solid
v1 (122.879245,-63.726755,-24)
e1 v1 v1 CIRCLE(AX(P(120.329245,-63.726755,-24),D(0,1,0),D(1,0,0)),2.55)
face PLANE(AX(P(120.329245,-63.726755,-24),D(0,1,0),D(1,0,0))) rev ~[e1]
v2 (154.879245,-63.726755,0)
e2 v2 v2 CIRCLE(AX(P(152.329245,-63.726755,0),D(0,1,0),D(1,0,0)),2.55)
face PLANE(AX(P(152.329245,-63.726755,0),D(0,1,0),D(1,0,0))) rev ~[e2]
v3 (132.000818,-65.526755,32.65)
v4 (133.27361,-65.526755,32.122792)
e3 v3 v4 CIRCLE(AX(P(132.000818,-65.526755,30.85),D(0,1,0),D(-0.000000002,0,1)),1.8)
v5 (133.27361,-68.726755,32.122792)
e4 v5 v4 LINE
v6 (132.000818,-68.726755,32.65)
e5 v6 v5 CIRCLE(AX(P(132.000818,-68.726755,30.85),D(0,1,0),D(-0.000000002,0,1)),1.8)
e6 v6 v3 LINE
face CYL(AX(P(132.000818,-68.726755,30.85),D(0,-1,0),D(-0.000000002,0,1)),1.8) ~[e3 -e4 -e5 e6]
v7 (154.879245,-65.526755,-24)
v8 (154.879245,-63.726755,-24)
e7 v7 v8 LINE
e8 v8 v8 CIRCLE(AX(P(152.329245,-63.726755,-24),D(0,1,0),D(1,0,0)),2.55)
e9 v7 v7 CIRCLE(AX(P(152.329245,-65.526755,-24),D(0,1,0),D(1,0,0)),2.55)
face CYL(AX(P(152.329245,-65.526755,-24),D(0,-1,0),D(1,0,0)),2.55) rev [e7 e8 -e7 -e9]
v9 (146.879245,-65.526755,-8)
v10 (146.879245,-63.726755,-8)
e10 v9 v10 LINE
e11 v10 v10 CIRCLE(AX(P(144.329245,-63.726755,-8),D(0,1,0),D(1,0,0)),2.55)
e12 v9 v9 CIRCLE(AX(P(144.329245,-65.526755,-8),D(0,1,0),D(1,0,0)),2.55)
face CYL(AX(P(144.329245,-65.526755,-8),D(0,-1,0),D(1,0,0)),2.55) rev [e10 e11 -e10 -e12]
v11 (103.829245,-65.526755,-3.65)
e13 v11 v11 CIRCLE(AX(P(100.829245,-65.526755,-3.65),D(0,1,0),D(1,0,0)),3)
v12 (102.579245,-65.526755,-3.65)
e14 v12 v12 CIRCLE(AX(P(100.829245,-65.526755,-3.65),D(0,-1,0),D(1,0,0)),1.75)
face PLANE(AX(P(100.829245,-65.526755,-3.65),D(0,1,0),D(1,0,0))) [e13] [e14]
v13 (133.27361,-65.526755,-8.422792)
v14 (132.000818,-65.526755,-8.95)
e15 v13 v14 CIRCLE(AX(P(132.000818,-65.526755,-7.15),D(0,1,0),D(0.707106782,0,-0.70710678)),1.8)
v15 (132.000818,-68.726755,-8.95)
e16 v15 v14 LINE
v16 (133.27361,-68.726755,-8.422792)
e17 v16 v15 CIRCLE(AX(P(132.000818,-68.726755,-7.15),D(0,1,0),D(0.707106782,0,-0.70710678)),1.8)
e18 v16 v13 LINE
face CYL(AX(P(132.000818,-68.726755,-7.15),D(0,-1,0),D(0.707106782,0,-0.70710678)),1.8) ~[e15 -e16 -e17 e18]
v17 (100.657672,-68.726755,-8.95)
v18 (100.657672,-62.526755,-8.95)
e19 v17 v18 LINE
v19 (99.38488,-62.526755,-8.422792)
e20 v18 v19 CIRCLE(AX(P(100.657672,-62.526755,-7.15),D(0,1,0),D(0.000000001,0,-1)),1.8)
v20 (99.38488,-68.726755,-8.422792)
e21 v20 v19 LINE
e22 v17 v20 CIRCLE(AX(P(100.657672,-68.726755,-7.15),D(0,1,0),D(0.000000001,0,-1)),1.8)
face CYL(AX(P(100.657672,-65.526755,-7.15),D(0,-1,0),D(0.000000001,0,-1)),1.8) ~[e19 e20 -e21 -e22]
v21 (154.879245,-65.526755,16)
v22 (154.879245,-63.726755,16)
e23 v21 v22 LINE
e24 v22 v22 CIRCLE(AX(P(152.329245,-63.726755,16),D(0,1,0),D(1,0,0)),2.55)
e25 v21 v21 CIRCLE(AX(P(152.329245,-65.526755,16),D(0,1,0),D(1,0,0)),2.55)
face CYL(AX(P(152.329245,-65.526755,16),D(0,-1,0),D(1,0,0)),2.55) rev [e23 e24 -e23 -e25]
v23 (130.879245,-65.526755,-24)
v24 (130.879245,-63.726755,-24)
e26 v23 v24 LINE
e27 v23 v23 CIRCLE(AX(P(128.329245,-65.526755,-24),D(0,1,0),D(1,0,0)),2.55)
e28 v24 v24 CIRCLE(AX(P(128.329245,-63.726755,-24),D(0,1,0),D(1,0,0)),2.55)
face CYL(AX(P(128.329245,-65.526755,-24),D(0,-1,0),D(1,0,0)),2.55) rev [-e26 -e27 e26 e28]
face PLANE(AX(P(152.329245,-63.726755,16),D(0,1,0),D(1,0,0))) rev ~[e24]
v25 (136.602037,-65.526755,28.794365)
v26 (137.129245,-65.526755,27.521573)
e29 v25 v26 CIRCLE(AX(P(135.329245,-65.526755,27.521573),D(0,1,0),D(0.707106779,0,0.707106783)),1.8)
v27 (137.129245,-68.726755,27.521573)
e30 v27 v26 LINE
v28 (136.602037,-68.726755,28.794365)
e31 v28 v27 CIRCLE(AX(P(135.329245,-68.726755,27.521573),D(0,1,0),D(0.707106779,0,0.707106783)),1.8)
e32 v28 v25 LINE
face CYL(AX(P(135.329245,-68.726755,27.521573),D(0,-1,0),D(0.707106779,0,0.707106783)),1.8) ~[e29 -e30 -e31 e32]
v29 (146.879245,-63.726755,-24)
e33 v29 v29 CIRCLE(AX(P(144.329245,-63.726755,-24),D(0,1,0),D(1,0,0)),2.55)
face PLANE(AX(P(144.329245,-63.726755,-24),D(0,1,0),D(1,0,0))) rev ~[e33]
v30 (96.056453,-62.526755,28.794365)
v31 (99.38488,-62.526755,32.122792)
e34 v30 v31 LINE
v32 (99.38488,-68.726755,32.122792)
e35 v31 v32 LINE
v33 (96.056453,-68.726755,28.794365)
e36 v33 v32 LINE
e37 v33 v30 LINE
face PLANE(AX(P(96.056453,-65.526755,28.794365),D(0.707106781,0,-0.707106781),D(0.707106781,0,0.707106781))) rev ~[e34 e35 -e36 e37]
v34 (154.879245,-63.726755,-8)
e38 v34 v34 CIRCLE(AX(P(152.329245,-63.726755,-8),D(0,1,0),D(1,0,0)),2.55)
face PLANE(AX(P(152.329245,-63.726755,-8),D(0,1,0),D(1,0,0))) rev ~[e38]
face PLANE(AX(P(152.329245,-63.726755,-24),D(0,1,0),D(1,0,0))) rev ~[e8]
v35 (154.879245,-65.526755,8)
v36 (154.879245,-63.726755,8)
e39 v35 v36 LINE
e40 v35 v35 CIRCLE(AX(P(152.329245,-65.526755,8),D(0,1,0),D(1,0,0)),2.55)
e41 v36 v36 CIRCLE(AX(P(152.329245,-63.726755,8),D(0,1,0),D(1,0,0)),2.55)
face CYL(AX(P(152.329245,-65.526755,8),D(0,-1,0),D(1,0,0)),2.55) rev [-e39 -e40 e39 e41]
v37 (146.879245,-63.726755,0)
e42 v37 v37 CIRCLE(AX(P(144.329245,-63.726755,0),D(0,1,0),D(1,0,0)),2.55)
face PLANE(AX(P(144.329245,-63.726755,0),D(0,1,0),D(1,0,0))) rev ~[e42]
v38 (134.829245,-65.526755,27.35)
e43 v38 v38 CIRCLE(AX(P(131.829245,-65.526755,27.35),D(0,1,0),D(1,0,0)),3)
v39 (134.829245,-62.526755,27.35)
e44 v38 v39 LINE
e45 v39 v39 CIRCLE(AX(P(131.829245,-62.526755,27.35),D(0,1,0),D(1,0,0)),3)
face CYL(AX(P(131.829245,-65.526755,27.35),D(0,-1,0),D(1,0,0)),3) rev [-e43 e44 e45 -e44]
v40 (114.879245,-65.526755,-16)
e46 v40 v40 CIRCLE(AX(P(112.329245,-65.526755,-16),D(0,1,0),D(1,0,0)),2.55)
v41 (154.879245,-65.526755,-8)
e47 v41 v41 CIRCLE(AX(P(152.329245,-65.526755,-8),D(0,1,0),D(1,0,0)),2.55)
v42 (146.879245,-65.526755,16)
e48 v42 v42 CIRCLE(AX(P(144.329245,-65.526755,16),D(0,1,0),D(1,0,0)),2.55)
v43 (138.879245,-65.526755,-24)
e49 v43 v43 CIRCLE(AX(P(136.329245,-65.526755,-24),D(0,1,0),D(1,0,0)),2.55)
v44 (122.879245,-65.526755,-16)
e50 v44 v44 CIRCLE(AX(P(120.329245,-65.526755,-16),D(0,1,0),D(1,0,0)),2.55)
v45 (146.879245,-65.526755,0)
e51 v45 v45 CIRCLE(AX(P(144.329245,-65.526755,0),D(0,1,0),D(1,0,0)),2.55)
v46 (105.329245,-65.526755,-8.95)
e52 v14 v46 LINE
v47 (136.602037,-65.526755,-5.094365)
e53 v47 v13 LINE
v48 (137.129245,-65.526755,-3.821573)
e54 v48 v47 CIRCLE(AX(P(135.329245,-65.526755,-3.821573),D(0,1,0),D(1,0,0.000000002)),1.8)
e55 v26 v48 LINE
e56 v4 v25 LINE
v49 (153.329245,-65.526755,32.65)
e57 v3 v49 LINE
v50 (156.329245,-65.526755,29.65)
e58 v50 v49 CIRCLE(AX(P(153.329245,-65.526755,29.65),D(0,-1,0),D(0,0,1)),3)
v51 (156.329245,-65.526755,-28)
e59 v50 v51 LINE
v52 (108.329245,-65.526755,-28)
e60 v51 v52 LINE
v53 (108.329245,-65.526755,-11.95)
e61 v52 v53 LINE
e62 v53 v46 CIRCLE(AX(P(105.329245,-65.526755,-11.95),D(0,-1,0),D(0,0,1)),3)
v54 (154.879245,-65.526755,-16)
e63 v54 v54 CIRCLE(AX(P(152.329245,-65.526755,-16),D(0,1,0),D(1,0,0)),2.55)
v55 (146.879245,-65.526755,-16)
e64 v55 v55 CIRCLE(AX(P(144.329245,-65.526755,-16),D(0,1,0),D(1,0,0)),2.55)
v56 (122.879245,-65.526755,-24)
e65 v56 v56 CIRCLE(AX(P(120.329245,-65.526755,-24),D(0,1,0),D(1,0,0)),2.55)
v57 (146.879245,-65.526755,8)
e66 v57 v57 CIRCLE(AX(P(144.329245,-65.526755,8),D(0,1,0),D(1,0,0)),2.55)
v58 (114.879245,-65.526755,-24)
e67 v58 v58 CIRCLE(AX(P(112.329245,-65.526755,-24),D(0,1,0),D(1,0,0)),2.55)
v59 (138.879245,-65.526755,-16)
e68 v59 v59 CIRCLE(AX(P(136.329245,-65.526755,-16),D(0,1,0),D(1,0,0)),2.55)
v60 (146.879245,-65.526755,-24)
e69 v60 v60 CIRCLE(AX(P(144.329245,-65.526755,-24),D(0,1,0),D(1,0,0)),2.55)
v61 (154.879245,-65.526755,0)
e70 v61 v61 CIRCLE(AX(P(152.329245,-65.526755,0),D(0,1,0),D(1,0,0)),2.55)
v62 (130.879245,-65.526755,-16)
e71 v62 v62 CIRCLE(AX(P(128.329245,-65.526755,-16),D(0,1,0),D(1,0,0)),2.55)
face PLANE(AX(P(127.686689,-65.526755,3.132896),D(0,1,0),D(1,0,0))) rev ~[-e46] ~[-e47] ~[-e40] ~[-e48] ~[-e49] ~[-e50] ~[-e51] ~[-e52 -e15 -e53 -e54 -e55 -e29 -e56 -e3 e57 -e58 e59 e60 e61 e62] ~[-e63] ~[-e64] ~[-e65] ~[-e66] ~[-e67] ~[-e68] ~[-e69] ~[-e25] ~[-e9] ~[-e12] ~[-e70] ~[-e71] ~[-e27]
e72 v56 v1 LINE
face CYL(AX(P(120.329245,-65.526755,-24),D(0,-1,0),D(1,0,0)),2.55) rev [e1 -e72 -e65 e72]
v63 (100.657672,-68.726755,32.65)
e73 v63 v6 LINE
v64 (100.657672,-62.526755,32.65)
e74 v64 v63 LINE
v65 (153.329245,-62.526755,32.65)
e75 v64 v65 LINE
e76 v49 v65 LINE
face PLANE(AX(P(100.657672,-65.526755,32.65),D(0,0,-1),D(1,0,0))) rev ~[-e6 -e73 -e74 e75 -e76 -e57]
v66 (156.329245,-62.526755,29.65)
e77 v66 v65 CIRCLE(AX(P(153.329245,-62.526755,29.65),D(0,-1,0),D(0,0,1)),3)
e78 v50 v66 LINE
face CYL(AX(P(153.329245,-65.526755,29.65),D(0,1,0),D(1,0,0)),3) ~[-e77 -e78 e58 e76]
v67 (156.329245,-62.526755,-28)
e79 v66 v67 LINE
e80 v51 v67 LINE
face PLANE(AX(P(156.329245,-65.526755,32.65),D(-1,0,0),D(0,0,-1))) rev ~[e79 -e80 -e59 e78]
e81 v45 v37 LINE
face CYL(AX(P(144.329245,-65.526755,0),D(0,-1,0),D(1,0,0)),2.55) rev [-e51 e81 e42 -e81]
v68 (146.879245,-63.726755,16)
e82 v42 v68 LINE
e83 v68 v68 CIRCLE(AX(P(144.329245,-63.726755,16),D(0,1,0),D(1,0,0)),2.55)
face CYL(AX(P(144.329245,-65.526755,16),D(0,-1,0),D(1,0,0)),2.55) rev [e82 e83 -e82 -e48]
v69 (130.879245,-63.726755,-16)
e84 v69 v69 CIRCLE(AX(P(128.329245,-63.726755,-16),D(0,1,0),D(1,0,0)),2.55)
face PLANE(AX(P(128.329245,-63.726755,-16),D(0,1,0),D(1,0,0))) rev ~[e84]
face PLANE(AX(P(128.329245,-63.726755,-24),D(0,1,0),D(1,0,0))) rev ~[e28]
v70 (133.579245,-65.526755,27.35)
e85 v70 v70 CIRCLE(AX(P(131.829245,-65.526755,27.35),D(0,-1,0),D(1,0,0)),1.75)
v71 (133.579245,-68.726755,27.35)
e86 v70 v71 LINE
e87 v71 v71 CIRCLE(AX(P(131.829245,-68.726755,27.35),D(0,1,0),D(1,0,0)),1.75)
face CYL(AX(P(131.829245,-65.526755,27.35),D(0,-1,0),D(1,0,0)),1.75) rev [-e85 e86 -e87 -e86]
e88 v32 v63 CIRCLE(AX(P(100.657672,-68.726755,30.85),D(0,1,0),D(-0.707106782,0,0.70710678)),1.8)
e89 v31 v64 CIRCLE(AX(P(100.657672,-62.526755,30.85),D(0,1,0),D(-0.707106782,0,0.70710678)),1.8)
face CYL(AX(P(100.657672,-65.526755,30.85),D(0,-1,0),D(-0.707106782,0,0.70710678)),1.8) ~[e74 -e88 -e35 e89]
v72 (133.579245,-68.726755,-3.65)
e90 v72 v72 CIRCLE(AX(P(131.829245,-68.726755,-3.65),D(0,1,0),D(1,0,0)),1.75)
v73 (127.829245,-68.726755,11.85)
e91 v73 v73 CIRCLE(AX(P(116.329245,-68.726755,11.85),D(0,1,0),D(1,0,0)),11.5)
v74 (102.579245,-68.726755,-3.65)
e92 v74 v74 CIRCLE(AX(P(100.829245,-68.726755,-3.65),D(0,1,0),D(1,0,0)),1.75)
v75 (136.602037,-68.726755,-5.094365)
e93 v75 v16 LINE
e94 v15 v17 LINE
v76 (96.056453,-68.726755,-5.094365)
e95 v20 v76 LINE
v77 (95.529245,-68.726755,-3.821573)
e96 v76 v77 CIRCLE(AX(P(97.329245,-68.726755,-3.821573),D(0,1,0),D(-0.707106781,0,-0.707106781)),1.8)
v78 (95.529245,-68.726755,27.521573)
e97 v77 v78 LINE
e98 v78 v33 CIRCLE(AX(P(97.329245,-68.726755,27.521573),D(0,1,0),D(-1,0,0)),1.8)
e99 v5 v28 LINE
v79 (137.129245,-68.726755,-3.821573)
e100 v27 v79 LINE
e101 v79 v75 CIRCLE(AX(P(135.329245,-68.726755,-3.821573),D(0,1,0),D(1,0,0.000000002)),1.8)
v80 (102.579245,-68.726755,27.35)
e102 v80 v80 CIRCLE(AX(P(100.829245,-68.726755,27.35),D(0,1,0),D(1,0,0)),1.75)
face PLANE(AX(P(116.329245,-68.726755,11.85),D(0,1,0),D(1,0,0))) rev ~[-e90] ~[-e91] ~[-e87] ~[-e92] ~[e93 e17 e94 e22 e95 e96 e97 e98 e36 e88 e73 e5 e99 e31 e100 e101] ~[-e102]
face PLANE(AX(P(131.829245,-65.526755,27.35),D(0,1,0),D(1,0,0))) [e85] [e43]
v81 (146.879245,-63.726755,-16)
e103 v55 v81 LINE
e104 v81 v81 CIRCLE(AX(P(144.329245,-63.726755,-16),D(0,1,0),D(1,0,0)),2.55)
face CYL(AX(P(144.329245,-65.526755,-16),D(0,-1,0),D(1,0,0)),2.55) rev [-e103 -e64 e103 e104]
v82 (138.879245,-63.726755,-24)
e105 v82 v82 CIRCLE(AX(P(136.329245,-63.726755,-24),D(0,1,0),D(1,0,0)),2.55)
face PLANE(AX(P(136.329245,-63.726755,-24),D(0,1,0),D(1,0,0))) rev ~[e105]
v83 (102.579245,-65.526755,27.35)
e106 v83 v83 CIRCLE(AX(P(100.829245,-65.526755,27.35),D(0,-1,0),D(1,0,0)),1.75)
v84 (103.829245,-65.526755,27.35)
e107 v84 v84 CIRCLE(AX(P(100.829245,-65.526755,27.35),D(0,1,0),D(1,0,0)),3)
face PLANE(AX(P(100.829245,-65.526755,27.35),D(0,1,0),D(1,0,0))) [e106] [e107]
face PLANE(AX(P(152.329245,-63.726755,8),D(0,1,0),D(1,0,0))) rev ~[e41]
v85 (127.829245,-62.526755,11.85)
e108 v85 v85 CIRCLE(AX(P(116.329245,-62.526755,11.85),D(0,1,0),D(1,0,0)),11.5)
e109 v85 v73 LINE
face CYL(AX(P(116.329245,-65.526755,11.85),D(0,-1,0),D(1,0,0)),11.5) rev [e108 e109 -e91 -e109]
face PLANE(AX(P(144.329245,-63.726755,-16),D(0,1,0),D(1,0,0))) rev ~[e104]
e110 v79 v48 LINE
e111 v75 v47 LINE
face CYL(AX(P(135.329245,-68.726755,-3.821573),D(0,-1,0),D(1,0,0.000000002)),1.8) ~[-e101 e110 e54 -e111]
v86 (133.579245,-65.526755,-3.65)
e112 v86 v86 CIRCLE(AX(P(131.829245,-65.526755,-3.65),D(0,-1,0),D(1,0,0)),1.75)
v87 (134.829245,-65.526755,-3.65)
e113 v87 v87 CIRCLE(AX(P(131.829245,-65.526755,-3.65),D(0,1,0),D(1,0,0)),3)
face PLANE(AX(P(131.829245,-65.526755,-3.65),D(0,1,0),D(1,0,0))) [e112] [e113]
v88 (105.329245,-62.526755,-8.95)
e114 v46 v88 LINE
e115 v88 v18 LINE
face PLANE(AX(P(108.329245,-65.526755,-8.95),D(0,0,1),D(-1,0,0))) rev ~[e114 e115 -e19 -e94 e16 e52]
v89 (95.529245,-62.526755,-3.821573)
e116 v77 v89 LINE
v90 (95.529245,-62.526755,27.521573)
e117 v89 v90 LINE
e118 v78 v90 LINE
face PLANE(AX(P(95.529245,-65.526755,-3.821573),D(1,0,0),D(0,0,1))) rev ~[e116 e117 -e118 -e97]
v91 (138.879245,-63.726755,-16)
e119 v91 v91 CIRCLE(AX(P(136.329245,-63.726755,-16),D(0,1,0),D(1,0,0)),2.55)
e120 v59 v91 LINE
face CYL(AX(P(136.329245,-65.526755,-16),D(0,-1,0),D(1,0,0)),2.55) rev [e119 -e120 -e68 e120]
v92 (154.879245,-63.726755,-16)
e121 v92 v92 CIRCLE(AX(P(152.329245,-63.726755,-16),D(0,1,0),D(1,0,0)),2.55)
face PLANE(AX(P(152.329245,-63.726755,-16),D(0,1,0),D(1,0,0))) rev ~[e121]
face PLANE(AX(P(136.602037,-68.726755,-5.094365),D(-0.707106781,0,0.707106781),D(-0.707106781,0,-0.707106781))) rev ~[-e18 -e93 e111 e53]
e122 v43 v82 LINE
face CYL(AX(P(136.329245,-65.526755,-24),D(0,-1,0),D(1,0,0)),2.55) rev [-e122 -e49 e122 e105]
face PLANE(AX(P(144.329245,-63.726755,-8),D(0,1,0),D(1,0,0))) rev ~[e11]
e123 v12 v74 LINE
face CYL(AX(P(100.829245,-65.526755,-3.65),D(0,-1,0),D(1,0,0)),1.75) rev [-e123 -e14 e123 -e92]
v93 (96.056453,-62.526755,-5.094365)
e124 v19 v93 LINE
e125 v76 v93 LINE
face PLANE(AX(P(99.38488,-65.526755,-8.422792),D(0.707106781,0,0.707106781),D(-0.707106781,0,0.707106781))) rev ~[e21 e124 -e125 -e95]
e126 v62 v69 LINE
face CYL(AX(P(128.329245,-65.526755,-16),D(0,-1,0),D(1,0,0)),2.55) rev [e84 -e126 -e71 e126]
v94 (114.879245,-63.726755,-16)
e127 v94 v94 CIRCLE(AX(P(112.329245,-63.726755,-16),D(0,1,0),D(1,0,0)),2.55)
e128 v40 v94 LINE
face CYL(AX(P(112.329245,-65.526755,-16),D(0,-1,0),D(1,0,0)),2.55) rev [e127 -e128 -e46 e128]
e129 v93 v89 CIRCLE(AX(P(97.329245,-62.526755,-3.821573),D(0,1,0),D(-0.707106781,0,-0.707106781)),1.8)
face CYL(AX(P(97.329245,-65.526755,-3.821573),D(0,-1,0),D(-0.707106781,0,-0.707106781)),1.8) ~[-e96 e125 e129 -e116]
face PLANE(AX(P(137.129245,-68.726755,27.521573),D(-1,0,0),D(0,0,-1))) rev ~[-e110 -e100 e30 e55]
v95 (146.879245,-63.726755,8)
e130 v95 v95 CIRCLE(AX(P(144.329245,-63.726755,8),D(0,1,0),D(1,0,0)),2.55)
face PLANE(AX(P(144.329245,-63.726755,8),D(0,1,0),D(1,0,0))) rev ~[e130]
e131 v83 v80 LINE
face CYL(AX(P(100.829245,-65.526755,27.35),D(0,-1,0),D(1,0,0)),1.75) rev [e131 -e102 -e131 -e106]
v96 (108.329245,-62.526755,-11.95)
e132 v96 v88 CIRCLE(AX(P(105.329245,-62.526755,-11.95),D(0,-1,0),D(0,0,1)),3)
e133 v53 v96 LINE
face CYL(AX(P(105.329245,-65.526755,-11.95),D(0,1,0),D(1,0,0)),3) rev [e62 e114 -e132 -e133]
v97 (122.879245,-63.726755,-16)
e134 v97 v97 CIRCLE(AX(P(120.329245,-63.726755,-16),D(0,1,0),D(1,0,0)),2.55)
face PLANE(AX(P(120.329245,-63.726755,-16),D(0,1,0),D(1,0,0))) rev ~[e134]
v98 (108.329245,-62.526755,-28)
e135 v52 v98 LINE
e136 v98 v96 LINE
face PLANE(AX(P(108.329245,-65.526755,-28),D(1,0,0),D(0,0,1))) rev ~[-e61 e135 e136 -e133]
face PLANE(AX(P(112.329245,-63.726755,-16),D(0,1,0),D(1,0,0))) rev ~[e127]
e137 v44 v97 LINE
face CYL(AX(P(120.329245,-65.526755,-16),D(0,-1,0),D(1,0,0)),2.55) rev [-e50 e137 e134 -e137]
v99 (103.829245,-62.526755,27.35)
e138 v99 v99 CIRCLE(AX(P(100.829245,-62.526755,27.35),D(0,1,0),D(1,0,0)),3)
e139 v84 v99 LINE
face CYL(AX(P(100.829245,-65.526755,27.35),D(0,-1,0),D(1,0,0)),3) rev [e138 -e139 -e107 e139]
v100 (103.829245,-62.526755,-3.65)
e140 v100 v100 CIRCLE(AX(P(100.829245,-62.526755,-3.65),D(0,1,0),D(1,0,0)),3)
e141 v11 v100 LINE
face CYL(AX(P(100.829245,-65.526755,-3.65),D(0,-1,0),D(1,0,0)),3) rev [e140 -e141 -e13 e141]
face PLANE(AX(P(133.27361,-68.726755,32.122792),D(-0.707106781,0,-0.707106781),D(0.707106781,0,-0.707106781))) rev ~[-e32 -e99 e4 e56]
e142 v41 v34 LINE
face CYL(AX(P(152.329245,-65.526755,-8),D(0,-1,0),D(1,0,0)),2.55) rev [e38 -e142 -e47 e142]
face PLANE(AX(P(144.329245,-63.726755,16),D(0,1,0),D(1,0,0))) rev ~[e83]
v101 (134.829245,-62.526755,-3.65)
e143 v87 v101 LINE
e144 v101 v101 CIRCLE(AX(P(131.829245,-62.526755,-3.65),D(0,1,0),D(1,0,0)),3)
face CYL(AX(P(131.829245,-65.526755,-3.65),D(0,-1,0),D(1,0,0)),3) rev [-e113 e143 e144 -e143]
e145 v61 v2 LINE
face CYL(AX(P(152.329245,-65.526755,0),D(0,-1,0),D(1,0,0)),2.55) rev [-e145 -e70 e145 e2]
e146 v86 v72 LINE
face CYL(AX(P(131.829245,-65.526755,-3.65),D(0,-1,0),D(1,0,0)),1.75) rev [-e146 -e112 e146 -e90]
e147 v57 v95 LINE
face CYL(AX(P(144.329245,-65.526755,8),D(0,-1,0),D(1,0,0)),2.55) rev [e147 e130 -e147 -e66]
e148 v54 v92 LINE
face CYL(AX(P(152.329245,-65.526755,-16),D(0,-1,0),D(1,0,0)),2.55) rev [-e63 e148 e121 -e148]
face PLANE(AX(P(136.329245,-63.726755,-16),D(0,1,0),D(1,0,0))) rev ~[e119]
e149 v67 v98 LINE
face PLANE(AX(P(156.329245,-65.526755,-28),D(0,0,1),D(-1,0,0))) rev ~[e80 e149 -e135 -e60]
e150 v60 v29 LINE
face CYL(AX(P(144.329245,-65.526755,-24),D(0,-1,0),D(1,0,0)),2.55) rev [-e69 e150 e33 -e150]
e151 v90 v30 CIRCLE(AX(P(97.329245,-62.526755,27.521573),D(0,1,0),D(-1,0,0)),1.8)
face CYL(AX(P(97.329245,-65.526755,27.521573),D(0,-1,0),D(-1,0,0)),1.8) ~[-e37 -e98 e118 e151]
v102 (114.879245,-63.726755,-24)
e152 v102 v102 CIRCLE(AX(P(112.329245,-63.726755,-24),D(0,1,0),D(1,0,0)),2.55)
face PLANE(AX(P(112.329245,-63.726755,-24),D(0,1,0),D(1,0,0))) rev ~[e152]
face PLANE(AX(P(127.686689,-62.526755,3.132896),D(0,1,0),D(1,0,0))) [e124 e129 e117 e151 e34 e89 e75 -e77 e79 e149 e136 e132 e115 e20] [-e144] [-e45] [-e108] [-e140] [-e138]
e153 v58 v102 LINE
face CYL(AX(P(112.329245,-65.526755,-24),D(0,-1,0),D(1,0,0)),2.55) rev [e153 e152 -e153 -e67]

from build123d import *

# Parameters (mm, degrees)
SKETCH1_R           = 11.5
SKETCH1_R_2         = 1.75
BOSS_EXTRUDE1_DEPTH = 3.2
BOSS_EXTRUDE2_START = 3.2
SKETCH1_5_R         = 2.55
SKETCH1_5_R_2       = 11.5
SKETCH1_5_R_3       = 1.75
BOSS_EXTRUDE2_DEPTH = 3
BOSS_EXTRUDE3_START = 5
SKETCH1_6_R         = 2.55
BOSS_EXTRUDE3_DEPTH = 1.2
CUT_EXTRUDE2_START  = 3.2
SKETCH1_4_R         = 3
CUT_EXTRUDE2_DEPTH  = 3
FILLET1_R           = 3


with BuildPart() as part:
    # Sketch1 → Boss-Extrude1 (new body)
    with BuildSketch(Plane(origin=(0, -68.726755499, 0), x_dir=(1, 0, 0), z_dir=(0, 1, 0))):
        with BuildLine():
            Line((100.657671875, -32.65), (132.000817625, -32.65))
            ThreePointArc((132.000817625, -32.65), (132.689647804, -32.512983159), (133.273609832, -32.122792206))
            Line((133.273609832, -32.122792206), (136.602036956, -28.794365081))
            ThreePointArc((136.602036956, -28.794365081), (136.992227909, -28.210403054), (137.12924475, -27.521572875))
            Line((137.12924475, -27.521572875), (137.12924475, 3.821572875))
            ThreePointArc((137.12924475, 3.821572875), (136.992227909, 4.510403054), (136.602036956, 5.094365081))
            Line((136.602036956, 5.094365081), (133.273609832, 8.422792206))
            ThreePointArc((133.273609832, 8.422792206), (132.689647804, 8.812983159), (132.000817625, 8.95))
            Line((132.000817625, 8.95), (100.657671875, 8.95))
            ThreePointArc((100.657671875, 8.95), (99.968841697, 8.812983159), (99.384879669, 8.422792206))
            Line((99.384879669, 8.422792206), (96.056452544, 5.094365081))
            ThreePointArc((96.056452544, 5.094365081), (95.666261592, 4.510403054), (95.52924475, 3.821572875))
            Line((95.52924475, 3.821572875), (95.52924475, -27.521572875))
            ThreePointArc((95.52924475, -27.521572875), (95.666261592, -28.210403054), (96.056452544, -28.794365081))
            Line((96.056452544, -28.794365081), (99.384879669, -32.122792206))
            ThreePointArc((99.384879669, -32.122792206), (99.968841697, -32.512983159), (100.657671875, -32.65))
        make_face()
        with Locations((116.32924475, -11.85)):
            Circle(SKETCH1_R, mode=Mode.SUBTRACT)
        with Locations((100.82924475, -27.35)):
            Circle(SKETCH1_R_2, mode=Mode.SUBTRACT)
        with Locations((100.82924475, 3.65)):
            Circle(SKETCH1_R_2, mode=Mode.SUBTRACT)
        with Locations((131.82924475, 3.65)):
            Circle(SKETCH1_R_2, mode=Mode.SUBTRACT)
        with Locations((131.82924475, -27.35)):
            Circle(SKETCH1_R_2, mode=Mode.SUBTRACT)
    extrude(amount=BOSS_EXTRUDE1_DEPTH)

    # Sketch1<5> → Boss-Extrude2 (add)
    with BuildSketch(Plane(origin=(0, -68.726755499, 0), x_dir=(1, 0, 0), z_dir=(0, 1, 0)).offset(BOSS_EXTRUDE2_START)):
        with BuildLine():
            Line((108.32924475, 8.95), (100.657671875, 8.95))
            ThreePointArc((100.657671875, 8.95), (99.968841697, 8.812983159), (99.384879669, 8.422792206))
            Line((99.384879669, 8.422792206), (96.056452544, 5.094365081))
            ThreePointArc((96.056452544, 5.094365081), (95.666261592, 4.510403054), (95.52924475, 3.821572875))
            Line((95.52924475, 3.821572875), (95.52924475, -27.521572875))
            ThreePointArc((95.52924475, -27.521572875), (95.666261592, -28.210403054), (96.056452544, -28.794365081))
            Line((96.056452544, -28.794365081), (99.384879669, -32.122792206))
            ThreePointArc((99.384879669, -32.122792206), (99.968841697, -32.512983159), (100.657671875, -32.65))
            Line((100.657671875, -32.65), (156.32924475, -32.65))
            Line((156.32924475, -32.65), (156.32924475, 28))
            Line((156.32924475, 28), (108.32924475, 28))
            Line((108.32924475, 28), (108.32924475, 8.95))
        make_face()
        with Locations((144.32924475, -16)):
            Circle(SKETCH1_5_R, mode=Mode.SUBTRACT)
        with Locations((152.32924475, -16)):
            Circle(SKETCH1_5_R, mode=Mode.SUBTRACT)
        with Locations((144.32924475, -8)):
            Circle(SKETCH1_5_R, mode=Mode.SUBTRACT)
        with Locations((152.32924475, -8)):
            Circle(SKETCH1_5_R, mode=Mode.SUBTRACT)
        with Locations((120.32924475, 16)):
            Circle(SKETCH1_5_R, mode=Mode.SUBTRACT)
        with Locations((120.32924475, 24)):
            Circle(SKETCH1_5_R, mode=Mode.SUBTRACT)
        with Locations((144.32924475, 0)):
            Circle(SKETCH1_5_R, mode=Mode.SUBTRACT)
        with Locations((152.32924475, 0)):
            Circle(SKETCH1_5_R, mode=Mode.SUBTRACT)
        with Locations((144.32924475, 8)):
            Circle(SKETCH1_5_R, mode=Mode.SUBTRACT)
        with Locations((152.32924475, 8)):
            Circle(SKETCH1_5_R, mode=Mode.SUBTRACT)
        with Locations((128.32924475, 16)):
            Circle(SKETCH1_5_R, mode=Mode.SUBTRACT)
        with Locations((136.32924475, 16)):
            Circle(SKETCH1_5_R, mode=Mode.SUBTRACT)
        with Locations((128.32924475, 24)):
            Circle(SKETCH1_5_R, mode=Mode.SUBTRACT)
        with Locations((136.32924475, 24)):
            Circle(SKETCH1_5_R, mode=Mode.SUBTRACT)
        with Locations((144.32924475, 16)):
            Circle(SKETCH1_5_R, mode=Mode.SUBTRACT)
        with Locations((152.32924475, 16)):
            Circle(SKETCH1_5_R, mode=Mode.SUBTRACT)
        with Locations((144.32924475, 24)):
            Circle(SKETCH1_5_R, mode=Mode.SUBTRACT)
        with Locations((152.32924475, 24)):
            Circle(SKETCH1_5_R, mode=Mode.SUBTRACT)
        with Locations((116.32924475, -11.85)):
            Circle(SKETCH1_5_R_2, mode=Mode.SUBTRACT)
        with Locations((112.32924475, 24)):
            Circle(SKETCH1_5_R, mode=Mode.SUBTRACT)
        with Locations((112.32924475, 16)):
            Circle(SKETCH1_5_R, mode=Mode.SUBTRACT)
        with Locations((100.82924475, -27.35)):
            Circle(SKETCH1_5_R_3, mode=Mode.SUBTRACT)
        with Locations((100.82924475, 3.65)):
            Circle(SKETCH1_5_R_3, mode=Mode.SUBTRACT)
        with Locations((131.82924475, 3.65)):
            Circle(SKETCH1_5_R_3, mode=Mode.SUBTRACT)
        with Locations((131.82924475, -27.35)):
            Circle(SKETCH1_5_R_3, mode=Mode.SUBTRACT)
    extrude(amount=BOSS_EXTRUDE2_DEPTH)

    # Sketch1<6> → Boss-Extrude3 (add)
    with BuildSketch(Plane(origin=(0, -68.726755499, 0), x_dir=(1, 0, 0), z_dir=(0, 1, 0)).offset(BOSS_EXTRUDE3_START)):
        with Locations((152.32924475, -16)):
            Circle(SKETCH1_6_R)
        with Locations((144.32924475, -16)):
            Circle(SKETCH1_6_R)
        with Locations((144.32924475, -8)):
            Circle(SKETCH1_6_R)
        with Locations((152.32924475, -8)):
            Circle(SKETCH1_6_R)
        with Locations((152.32924475, 0)):
            Circle(SKETCH1_6_R)
        with Locations((144.32924475, 0)):
            Circle(SKETCH1_6_R)
        with Locations((152.32924475, 8)):
            Circle(SKETCH1_6_R)
        with Locations((152.32924475, 16)):
            Circle(SKETCH1_6_R)
        with Locations((144.32924475, 24)):
            Circle(SKETCH1_6_R)
        with Locations((152.32924475, 24)):
            Circle(SKETCH1_6_R)
        with Locations((136.32924475, 24)):
            Circle(SKETCH1_6_R)
        with Locations((136.32924475, 16)):
            Circle(SKETCH1_6_R)
        with Locations((128.32924475, 16)):
            Circle(SKETCH1_6_R)
        with Locations((128.32924475, 24)):
            Circle(SKETCH1_6_R)
        with Locations((120.32924475, 16)):
            Circle(SKETCH1_6_R)
        with Locations((120.32924475, 24)):
            Circle(SKETCH1_6_R)
        with Locations((144.32924475, 8)):
            Circle(SKETCH1_6_R)
        with Locations((144.32924475, 16)):
            Circle(SKETCH1_6_R)
        with Locations((112.32924475, 24)):
            Circle(SKETCH1_6_R)
        with Locations((112.32924475, 16)):
            Circle(SKETCH1_6_R)
    extrude(amount=BOSS_EXTRUDE3_DEPTH)

    # Sketch1<4> → Cut-Extrude2 (cut)
    with BuildSketch(Plane(origin=(0, -68.726755499, 0), x_dir=(1, 0, 0), z_dir=(0, 1, 0)).offset(CUT_EXTRUDE2_START)):
        with Locations((100.82924475, -27.35)):
            Circle(SKETCH1_4_R)
        with Locations((100.82924475, 3.65)):
            Circle(SKETCH1_4_R)
        with Locations((131.82924475, 3.65)):
            Circle(SKETCH1_4_R)
        with Locations((131.82924475, -27.35)):
            Circle(SKETCH1_4_R)
    extrude(amount=CUT_EXTRUDE2_DEPTH, mode=Mode.SUBTRACT)

    # Fillet1
    fillet1_edges = [part.edges().sort_by_distance(p)[0] for p in [
        (156.32924475, -64.026755499, 32.65),
        (108.32924475, -64.026755499, -8.95),
    ]]
    fillet(fillet1_edges, radius=FILLET1_R)


solid = part.part
